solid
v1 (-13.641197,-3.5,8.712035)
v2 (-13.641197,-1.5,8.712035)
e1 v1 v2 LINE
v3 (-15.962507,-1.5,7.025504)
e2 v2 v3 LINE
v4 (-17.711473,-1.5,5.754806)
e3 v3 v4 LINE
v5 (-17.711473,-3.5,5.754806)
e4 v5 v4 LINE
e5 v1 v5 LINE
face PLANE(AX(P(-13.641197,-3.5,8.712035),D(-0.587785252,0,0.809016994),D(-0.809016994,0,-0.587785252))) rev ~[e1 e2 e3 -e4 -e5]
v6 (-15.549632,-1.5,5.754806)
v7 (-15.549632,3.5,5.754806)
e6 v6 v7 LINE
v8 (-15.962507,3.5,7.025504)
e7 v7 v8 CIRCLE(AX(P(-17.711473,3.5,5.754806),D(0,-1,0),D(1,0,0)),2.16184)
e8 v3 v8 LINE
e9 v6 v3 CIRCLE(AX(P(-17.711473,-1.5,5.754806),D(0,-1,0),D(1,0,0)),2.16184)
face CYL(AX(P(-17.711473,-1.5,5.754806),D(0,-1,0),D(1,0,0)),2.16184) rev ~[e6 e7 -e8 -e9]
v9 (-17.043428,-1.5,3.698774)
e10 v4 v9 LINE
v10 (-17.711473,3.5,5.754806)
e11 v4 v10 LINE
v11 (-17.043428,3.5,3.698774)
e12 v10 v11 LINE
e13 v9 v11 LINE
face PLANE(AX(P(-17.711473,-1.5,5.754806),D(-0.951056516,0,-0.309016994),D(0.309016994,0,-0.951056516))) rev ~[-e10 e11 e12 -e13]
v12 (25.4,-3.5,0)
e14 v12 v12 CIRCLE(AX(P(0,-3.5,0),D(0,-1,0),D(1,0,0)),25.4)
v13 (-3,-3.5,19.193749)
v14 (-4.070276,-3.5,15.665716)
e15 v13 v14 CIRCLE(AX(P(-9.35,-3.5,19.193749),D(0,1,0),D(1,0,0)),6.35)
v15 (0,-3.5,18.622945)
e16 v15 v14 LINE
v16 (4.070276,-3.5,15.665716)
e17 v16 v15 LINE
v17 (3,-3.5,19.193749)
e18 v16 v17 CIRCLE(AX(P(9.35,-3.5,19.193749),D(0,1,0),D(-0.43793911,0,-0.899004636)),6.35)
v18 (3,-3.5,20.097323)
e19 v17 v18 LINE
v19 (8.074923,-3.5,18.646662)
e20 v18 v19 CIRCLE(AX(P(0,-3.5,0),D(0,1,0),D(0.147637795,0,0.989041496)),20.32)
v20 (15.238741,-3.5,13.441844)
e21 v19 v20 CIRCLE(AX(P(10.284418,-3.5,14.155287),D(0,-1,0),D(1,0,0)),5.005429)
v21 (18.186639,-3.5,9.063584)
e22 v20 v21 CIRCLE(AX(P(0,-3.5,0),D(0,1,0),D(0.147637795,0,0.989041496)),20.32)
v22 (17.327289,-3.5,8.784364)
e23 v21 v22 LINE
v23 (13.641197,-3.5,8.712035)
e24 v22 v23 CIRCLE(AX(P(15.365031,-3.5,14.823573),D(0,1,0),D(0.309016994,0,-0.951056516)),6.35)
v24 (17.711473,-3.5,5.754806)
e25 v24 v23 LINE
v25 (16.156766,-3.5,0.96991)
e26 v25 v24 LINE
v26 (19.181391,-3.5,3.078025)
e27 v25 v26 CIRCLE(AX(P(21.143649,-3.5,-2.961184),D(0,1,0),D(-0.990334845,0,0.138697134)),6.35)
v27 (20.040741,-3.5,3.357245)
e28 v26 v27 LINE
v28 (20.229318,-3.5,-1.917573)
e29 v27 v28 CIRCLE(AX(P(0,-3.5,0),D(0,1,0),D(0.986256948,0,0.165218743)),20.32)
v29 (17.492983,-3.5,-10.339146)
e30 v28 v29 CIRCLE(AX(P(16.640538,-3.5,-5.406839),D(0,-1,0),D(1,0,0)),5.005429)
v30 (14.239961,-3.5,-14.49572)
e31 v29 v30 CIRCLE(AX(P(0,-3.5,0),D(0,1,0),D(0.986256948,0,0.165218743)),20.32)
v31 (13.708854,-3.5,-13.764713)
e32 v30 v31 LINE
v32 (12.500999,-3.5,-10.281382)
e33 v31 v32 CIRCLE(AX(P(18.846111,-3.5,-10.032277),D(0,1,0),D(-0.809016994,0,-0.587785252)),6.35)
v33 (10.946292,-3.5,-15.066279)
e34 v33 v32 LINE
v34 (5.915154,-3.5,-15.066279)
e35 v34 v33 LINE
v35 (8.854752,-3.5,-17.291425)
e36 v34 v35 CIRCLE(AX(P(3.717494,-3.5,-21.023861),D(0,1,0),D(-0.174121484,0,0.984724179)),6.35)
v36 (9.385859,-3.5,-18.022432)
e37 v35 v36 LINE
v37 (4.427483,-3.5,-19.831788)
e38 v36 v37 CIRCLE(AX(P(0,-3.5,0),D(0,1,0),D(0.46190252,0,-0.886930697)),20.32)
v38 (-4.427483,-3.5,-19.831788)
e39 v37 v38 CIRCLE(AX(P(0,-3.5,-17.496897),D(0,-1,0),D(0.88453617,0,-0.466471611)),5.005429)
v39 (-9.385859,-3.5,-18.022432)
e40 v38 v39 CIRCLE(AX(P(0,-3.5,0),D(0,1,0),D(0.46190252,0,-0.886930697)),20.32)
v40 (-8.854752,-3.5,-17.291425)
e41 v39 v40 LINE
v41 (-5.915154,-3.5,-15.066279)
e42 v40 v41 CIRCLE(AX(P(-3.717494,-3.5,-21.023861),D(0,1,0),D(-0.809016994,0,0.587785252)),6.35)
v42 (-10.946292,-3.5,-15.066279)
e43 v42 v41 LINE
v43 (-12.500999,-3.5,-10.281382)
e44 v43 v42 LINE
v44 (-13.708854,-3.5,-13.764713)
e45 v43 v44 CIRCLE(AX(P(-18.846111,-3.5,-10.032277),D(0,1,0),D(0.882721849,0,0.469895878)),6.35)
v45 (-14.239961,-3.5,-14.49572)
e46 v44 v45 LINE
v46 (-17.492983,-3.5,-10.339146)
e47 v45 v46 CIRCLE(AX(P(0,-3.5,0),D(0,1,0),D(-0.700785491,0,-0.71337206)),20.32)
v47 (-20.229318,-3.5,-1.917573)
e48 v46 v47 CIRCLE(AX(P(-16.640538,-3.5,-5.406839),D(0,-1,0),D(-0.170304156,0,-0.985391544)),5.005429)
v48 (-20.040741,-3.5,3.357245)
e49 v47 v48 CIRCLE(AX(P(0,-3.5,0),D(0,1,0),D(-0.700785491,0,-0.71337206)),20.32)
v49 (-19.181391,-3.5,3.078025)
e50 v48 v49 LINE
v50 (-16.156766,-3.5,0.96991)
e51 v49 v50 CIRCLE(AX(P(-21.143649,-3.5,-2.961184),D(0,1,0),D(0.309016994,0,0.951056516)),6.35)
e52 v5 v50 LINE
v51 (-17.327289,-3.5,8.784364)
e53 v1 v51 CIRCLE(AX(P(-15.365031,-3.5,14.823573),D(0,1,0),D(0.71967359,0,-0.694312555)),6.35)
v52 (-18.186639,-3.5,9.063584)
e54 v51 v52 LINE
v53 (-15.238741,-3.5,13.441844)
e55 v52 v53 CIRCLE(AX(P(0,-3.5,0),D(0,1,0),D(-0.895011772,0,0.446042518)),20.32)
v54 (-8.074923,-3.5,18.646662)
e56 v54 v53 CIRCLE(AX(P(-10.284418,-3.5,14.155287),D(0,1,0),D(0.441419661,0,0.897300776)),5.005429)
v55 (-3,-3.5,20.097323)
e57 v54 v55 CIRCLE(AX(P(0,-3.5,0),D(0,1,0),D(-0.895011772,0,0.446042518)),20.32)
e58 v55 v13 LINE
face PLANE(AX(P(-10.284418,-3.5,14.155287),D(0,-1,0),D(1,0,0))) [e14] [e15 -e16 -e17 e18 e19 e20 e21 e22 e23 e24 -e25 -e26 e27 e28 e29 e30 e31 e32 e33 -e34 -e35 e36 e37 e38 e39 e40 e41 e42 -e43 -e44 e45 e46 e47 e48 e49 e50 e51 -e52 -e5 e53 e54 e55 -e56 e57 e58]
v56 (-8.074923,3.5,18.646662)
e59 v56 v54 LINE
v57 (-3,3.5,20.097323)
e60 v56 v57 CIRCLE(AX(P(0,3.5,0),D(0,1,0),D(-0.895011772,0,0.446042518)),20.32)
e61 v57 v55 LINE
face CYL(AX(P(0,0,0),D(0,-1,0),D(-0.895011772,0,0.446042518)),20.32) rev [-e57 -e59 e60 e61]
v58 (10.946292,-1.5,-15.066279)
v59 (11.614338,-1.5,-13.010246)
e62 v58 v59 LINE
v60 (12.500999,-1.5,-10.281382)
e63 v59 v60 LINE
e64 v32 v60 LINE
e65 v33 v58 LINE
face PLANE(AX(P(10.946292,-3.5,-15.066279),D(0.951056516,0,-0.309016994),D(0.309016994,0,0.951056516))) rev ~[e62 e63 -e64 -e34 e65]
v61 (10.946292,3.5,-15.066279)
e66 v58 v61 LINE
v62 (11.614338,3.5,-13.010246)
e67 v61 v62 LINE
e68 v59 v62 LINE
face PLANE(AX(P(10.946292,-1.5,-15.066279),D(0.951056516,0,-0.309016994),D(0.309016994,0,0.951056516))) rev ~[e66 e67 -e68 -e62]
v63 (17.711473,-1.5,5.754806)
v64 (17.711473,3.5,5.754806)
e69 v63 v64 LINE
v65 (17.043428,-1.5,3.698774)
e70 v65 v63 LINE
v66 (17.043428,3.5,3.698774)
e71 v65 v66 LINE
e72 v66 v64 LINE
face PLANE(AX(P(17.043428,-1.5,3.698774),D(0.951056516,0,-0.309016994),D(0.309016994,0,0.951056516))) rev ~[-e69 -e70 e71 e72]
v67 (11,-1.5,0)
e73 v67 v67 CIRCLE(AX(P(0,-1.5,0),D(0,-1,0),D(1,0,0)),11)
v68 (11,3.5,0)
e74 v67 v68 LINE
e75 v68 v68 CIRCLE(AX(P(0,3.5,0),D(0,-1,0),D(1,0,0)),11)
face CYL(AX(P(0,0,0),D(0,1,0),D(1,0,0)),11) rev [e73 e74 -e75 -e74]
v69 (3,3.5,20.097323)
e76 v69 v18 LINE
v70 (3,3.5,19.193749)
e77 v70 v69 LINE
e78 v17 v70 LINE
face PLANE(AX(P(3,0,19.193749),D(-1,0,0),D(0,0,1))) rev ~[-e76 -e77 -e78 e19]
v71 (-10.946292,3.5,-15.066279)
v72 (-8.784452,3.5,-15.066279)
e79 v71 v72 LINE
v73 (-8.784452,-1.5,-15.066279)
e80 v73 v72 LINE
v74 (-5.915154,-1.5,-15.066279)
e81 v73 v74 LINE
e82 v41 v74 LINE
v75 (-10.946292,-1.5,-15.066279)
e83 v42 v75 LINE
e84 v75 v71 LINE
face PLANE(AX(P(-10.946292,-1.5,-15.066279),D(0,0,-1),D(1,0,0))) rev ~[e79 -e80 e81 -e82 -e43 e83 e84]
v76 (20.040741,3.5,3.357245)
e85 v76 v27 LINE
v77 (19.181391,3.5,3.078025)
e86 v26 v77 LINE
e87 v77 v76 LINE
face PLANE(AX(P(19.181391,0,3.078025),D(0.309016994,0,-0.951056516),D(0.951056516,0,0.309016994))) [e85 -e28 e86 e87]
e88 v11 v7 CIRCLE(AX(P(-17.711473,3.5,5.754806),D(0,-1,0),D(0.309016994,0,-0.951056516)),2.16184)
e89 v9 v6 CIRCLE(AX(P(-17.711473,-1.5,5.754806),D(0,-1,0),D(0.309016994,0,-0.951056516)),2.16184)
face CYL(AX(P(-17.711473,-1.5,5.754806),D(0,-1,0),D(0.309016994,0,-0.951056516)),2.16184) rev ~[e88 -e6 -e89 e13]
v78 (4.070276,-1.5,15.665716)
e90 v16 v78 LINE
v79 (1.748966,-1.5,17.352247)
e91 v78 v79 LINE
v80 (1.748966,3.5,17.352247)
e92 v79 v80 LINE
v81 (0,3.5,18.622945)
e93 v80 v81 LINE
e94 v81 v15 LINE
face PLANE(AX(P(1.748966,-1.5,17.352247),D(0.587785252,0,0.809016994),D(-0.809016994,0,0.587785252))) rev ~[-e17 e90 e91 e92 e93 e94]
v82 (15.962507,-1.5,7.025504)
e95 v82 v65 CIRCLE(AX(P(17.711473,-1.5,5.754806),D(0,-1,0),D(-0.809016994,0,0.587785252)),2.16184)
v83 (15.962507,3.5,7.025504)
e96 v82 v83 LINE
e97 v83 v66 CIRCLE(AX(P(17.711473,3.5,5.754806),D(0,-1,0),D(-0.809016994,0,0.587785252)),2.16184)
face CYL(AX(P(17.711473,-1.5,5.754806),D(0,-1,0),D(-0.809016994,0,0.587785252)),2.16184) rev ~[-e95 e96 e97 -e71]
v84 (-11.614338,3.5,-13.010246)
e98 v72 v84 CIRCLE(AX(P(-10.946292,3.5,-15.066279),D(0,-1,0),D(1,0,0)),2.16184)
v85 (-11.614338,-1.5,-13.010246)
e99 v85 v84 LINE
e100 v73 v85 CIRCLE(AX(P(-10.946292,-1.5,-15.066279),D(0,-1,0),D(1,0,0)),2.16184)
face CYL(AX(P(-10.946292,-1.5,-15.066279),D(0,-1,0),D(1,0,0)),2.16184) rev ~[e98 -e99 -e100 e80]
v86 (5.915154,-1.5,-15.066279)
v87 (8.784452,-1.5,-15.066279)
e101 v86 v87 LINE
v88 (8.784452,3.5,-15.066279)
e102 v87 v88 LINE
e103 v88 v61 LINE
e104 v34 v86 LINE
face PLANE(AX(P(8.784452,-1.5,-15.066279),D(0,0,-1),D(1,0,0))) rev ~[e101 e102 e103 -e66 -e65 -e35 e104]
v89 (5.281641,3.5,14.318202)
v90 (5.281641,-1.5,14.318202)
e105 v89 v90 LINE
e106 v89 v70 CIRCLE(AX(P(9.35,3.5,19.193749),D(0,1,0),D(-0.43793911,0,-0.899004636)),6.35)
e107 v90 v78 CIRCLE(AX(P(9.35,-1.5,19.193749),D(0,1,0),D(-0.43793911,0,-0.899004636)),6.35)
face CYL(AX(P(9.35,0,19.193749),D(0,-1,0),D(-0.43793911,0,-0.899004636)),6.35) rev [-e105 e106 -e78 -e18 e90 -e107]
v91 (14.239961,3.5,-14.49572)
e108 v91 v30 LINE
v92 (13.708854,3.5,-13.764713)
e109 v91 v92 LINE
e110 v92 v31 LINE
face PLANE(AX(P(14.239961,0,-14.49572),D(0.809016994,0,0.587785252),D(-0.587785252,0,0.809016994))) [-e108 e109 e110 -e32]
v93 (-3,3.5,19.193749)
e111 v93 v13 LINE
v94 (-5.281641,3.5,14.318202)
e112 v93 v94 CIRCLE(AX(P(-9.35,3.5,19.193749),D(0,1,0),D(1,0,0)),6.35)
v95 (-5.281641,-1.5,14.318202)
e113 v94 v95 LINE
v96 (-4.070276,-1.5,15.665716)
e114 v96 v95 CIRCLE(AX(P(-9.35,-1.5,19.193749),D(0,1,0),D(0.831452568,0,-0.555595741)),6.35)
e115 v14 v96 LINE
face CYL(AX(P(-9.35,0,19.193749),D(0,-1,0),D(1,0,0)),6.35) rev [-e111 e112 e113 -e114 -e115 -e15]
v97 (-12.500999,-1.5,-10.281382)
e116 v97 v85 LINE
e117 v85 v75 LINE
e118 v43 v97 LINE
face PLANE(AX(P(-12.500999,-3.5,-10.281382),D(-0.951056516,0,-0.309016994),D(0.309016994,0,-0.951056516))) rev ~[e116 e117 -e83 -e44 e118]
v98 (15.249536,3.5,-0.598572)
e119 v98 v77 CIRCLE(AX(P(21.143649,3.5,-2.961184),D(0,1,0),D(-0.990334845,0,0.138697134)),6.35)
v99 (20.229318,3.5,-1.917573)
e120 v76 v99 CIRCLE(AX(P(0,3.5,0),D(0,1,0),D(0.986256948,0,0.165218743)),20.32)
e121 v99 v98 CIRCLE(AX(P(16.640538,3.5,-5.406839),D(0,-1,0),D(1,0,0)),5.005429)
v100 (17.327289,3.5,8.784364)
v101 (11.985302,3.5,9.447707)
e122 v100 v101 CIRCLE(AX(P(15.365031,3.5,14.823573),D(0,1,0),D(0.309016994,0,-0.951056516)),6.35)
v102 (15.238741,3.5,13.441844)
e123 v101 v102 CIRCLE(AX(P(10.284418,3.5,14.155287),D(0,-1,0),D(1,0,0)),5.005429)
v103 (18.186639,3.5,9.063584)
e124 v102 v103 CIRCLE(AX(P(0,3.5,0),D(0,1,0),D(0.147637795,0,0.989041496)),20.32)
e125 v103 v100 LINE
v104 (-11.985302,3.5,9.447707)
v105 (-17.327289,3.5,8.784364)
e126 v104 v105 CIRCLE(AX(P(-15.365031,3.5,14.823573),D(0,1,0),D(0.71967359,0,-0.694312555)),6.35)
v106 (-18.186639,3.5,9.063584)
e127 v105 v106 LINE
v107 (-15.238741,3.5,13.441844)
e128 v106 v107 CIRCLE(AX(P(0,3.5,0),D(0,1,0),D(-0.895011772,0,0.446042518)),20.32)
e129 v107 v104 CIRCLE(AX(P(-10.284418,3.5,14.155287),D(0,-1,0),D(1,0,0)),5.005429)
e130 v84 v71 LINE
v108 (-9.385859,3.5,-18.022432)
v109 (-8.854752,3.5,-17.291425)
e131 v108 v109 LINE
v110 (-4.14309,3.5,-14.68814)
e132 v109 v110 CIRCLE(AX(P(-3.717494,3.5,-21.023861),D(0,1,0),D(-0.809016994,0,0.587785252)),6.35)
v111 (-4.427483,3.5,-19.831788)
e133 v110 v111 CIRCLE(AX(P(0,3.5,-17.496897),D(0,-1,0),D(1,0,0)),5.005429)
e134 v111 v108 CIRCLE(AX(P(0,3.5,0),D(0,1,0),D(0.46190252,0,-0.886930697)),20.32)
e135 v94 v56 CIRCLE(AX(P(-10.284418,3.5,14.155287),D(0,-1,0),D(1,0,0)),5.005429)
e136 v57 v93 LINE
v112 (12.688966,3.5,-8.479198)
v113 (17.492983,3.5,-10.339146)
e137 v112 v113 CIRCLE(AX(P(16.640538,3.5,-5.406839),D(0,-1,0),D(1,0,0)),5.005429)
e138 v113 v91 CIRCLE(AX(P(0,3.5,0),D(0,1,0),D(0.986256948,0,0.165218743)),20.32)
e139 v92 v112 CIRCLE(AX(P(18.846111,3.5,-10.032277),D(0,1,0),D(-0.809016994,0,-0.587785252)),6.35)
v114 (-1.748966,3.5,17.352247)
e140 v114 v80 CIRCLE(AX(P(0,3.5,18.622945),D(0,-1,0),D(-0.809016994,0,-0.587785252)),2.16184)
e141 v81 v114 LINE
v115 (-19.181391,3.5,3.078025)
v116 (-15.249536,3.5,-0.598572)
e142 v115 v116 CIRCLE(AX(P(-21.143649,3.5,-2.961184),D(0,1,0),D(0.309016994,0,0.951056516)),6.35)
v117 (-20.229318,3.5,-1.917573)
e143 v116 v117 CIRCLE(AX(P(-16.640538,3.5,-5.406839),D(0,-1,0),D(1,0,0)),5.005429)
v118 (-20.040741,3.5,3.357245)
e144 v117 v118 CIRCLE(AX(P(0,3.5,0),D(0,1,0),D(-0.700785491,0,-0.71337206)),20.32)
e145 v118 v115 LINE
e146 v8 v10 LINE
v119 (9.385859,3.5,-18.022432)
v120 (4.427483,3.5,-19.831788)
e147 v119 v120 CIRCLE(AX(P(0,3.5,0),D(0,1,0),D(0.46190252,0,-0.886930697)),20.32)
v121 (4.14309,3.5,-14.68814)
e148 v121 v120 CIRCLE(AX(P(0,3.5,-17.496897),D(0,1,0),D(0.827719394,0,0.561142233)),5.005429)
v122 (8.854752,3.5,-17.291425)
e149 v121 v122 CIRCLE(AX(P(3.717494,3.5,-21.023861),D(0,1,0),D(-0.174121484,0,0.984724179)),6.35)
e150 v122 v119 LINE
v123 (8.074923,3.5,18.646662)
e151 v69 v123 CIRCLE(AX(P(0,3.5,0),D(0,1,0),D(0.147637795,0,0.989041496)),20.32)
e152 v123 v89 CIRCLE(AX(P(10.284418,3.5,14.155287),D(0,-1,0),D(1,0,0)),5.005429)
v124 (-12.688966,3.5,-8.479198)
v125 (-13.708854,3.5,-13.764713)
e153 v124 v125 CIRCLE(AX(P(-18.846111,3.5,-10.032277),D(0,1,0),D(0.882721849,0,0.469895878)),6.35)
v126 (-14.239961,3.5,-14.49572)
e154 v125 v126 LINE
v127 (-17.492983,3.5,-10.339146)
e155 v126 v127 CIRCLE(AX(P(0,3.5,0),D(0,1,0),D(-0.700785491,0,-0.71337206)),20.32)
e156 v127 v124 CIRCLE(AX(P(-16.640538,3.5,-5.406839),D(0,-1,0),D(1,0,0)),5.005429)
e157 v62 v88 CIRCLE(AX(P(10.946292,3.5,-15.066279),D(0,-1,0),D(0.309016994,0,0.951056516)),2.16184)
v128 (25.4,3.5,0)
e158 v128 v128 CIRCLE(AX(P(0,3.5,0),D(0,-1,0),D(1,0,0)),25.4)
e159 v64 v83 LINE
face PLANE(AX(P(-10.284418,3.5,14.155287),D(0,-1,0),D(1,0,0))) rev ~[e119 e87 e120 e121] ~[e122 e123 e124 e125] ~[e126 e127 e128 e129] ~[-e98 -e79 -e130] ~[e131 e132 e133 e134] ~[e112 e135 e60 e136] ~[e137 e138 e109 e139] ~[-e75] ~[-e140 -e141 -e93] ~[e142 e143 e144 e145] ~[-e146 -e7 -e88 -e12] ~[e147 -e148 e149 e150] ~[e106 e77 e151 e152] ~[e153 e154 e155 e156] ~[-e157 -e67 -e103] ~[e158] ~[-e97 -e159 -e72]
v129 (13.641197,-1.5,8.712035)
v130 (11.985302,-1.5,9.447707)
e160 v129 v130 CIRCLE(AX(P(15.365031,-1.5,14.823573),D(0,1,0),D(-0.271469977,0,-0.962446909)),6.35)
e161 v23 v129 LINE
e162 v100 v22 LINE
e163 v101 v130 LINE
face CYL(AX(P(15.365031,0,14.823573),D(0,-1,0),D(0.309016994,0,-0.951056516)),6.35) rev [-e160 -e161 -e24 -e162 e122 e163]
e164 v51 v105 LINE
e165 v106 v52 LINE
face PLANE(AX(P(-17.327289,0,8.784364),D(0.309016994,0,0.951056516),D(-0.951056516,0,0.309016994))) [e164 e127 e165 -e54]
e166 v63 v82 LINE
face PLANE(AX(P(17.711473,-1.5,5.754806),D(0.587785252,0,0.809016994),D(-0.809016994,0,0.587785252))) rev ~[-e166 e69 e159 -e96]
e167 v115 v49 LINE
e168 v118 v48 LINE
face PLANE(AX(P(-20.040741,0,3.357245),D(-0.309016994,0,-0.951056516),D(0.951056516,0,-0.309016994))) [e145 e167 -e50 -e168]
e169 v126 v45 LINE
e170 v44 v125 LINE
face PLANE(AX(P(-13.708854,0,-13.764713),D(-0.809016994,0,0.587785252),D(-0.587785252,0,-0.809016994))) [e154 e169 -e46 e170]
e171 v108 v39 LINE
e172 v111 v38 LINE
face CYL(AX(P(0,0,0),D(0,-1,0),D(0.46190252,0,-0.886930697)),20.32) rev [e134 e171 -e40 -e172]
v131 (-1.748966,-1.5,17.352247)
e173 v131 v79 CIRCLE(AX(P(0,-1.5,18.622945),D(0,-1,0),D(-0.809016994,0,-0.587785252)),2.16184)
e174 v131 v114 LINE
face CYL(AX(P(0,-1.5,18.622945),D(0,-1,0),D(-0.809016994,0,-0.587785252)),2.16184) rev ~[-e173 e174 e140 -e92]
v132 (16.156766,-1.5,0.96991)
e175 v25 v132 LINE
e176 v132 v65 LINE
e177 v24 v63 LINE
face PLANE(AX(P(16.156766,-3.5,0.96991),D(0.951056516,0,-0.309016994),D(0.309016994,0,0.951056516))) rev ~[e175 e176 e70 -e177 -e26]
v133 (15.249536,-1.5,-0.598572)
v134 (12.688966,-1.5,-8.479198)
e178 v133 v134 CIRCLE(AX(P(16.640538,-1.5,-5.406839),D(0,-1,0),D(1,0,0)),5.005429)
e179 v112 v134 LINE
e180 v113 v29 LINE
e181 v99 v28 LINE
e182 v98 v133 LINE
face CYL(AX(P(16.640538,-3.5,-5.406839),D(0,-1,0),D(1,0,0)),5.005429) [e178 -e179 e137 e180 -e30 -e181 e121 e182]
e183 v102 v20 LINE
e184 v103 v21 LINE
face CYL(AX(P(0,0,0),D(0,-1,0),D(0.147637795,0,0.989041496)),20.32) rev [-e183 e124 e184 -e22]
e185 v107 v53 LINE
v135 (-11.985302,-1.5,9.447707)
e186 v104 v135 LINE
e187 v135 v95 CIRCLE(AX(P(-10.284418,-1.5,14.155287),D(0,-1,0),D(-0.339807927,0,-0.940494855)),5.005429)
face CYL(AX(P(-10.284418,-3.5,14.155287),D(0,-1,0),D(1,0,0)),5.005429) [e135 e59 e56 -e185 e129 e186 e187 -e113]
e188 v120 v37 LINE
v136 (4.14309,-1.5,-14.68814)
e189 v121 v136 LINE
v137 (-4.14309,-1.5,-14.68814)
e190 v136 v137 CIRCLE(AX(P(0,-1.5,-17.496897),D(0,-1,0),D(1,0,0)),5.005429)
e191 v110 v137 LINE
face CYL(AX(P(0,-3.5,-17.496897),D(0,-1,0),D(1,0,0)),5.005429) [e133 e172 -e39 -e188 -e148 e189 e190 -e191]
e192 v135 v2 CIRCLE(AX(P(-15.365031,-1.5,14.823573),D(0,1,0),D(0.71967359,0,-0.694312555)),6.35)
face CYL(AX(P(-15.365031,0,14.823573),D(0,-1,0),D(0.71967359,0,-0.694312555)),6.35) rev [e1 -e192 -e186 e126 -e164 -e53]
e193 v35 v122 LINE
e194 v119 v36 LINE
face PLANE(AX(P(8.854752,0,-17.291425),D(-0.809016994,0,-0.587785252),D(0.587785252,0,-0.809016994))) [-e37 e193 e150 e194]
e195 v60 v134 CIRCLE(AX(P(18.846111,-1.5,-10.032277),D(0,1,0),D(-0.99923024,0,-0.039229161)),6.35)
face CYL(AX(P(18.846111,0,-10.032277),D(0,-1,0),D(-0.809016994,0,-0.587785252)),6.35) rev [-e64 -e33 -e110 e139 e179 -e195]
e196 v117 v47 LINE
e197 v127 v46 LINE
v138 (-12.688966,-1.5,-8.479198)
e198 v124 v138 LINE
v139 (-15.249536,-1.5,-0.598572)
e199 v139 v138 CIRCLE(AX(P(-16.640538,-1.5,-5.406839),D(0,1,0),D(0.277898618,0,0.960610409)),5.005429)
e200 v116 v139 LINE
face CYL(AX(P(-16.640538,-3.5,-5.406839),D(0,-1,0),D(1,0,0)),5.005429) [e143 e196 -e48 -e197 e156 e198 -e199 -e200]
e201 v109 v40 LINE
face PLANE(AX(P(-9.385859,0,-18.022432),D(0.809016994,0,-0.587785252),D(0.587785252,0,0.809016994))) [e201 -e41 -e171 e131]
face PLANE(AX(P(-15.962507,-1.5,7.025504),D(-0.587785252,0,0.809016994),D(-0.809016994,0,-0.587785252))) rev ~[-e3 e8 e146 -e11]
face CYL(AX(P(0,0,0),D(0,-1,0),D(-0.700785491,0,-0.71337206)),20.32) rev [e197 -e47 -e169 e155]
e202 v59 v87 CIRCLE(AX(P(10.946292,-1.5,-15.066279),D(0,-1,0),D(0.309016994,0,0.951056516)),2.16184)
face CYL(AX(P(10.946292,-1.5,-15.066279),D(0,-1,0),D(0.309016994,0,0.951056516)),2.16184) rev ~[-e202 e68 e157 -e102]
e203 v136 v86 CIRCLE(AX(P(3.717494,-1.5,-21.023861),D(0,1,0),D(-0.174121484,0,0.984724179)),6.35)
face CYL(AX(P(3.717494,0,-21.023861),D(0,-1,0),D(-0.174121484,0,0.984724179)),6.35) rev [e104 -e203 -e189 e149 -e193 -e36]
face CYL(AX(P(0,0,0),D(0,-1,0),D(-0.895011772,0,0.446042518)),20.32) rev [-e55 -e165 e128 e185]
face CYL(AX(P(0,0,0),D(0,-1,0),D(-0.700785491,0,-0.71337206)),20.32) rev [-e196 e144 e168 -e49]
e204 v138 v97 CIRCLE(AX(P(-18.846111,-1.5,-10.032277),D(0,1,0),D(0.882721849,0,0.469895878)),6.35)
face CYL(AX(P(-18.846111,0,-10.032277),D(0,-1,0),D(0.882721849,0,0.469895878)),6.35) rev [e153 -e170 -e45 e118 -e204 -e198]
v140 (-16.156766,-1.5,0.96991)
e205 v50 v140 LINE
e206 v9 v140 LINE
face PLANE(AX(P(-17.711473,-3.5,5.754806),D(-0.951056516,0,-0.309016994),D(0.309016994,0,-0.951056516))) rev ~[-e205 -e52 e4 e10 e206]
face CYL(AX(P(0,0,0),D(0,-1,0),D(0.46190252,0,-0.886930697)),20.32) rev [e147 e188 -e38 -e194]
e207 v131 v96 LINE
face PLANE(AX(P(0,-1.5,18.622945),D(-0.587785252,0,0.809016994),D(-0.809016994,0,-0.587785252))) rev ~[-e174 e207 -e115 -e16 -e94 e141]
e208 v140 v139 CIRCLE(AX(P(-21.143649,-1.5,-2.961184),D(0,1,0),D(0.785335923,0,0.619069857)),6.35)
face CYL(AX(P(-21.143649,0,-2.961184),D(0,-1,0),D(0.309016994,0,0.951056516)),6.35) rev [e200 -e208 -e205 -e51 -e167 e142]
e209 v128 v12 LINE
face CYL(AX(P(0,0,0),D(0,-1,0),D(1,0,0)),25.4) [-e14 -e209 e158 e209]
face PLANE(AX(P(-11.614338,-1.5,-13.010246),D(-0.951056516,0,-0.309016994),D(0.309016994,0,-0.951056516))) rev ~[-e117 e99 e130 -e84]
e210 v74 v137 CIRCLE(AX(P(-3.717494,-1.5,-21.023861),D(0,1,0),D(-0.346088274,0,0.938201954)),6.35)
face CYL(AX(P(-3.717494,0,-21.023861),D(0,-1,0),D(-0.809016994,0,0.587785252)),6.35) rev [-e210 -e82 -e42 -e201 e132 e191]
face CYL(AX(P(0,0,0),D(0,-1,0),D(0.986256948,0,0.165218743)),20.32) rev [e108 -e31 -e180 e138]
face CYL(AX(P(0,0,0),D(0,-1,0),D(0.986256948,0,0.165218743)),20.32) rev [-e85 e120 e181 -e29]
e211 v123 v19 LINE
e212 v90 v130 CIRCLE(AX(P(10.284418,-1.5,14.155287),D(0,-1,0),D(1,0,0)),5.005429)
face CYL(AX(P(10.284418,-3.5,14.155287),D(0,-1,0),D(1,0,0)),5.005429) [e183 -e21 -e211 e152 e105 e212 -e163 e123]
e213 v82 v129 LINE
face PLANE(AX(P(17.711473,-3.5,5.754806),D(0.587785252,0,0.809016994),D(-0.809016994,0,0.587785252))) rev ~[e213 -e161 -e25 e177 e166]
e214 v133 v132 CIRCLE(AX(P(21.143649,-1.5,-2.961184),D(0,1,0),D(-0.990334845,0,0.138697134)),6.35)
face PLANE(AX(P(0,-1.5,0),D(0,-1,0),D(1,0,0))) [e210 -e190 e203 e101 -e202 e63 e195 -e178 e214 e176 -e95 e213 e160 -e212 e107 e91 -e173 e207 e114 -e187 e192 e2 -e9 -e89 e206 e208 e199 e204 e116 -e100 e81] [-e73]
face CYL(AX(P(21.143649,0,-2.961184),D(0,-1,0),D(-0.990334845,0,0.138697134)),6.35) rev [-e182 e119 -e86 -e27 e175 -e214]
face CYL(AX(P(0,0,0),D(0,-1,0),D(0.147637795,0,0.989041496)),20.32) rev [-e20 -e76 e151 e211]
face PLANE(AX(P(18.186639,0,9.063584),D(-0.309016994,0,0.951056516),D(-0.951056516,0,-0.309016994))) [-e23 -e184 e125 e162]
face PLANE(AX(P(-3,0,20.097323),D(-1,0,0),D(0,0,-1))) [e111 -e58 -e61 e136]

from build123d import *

# Parameters (mm, degrees)
F0_R     = 25.4
F0_R_2   = 11
F1_DEPTH = 3.5
F2_R     = 11
F3_DEPTH = 2
F5_DEPTH = 25.4
F6_R     = 5.0054287193
F7_DEPTH = 7


with BuildPart() as f1:
    # F0 (on Front) → F1 (new body, symmetric)
    with BuildSketch(Plane.XZ):
        Circle(F0_R)
        with BuildLine():
            ThreePointArc((9.3858592072, -18.022431771), (0, -20.32), (-9.3858592072, -18.022431771))
            Line((-9.3858592072, -18.022431771), (-8.8547516049, -17.2914248694))
            ThreePointArc((-8.8547516049, -17.2914248694), (-6.0948306116, -15.1356722669), (-2.6118222651, -14.7708626849))
            ThreePointArc((-2.6118222651, -14.7708626849), (0, -15), (2.6118222651, -14.7708626849))
            ThreePointArc((2.6118222651, -14.7708626849), (6.0948306116, -15.1356722669), (8.8547516049, -17.2914248694))
            Line((8.8547516049, -17.2914248694), (9.3858592072, -18.022431771))
        make_face(mode=Mode.SUBTRACT)
        with BuildLine():
            ThreePointArc((-14.2399611735, -14.4957202573), (-19.3254684111, -6.2792253257), (-20.0407411772, 3.3572448629))
            Line((-20.0407411772, 3.3572448629), (-19.181391025, 3.0780250724))
            ThreePointArc((-19.181391025, 3.0780250724), (-16.2782859748, 1.1193484171), (-14.855022674, -2.0804570066))
            ThreePointArc((-14.855022674, -2.0804570066), (-14.2658477444, -4.6352549156), (-13.2408277416, -7.0484381758))
            ThreePointArc((-13.2408277416, -7.0484381758), (-12.5114735012, -10.4737083206), (-13.7088535712, -13.7647133557))
            Line((-13.7088535712, -13.7647133557), (-14.2399611735, -14.4957202573))
        make_face(mode=Mode.SUBTRACT)
        Circle(F0_R_2, mode=Mode.SUBTRACT)
        with BuildLine():
            ThreePointArc((20.0407411772, 3.3572448629), (19.3254684111, -6.2792253257), (14.2399611735, -14.4957202573))
            Line((14.2399611735, -14.4957202573), (13.7088535712, -13.7647133557))
            ThreePointArc((13.7088535712, -13.7647133557), (12.5114735012, -10.4737083206), (13.2408277416, -7.0484381758))
            ThreePointArc((13.2408277416, -7.0484381758), (14.2658477444, -4.6352549156), (14.855022674, -2.0804570066))
            ThreePointArc((14.855022674, -2.0804570066), (16.2782859748, 1.1193484171), (19.181391025, 3.0780250724))
            Line((19.181391025, 3.0780250724), (20.0407411772, 3.3572448629))
        make_face(mode=Mode.SUBTRACT)
        with BuildLine():
            ThreePointArc((-18.1866392109, 9.0635839606), (-11.9437963266, 16.4392253257), (-3, 20.0973232048))
            Line((-3, 20.0973232048), (-3, 19.1937489824))
            ThreePointArc((-3, 19.1937489824), (-3.9657033994, 15.8274676339), (-6.5690866511, 13.4850695427))
            ThreePointArc((-6.5690866511, 13.4850695427), (-8.8167787844, 12.1352549156), (-10.7951038486, 10.4146883246))
            ThreePointArc((-10.7951038486, 10.4146883246), (-13.8273464846, 8.6625645365), (-17.3272890587, 8.7843641702))
            Line((-17.3272890587, 8.7843641702), (-18.1866392109, 9.0635839606))
        make_face(mode=Mode.SUBTRACT)
        with BuildLine():
            Line((3, 19.1937489824), (3, 20.0973232048))
            ThreePointArc((3, 20.0973232048), (11.9437963266, 16.4392253257), (18.1866392109, 9.0635839606))
            Line((18.1866392109, 9.0635839606), (17.3272890587, 8.7843641702))
            ThreePointArc((17.3272890587, 8.7843641702), (13.8273464846, 8.6625645365), (10.7951038486, 10.4146883246))
            ThreePointArc((10.7951038486, 10.4146883246), (8.8167787844, 12.1352549156), (6.5690866511, 13.4850695427))
            ThreePointArc((6.5690866511, 13.4850695427), (3.9657033994, 15.8274676339), (3, 19.1937489824))
        make_face(mode=Mode.SUBTRACT)
    extrude(amount=F1_DEPTH, both=True)

    # F2 (on face) → F3 (cut)
    with BuildSketch(Plane.XZ.offset(3.5)):
        with BuildLine():
            Line((5.9151542337, -15.0662788144), (10.9462922974, -15.0662788144))
            Line((10.9462922974, -15.0662788144), (12.5009994602, -10.2813821745))
            ThreePointArc((12.5009994602, -10.2813821745), (12.6561218663, -8.6157571432), (13.2408277416, -7.0484381758))
            ThreePointArc((13.2408277416, -7.0484381758), (14.2658477444, -4.6352549156), (14.855022674, -2.0804570066))
            ThreePointArc((14.855022674, -2.0804570066), (15.3032326588, -0.468787836), (16.1567658253, 0.9699097832))
            Line((16.1567658253, 0.9699097832), (17.711472988, 5.7548064231))
            Line((17.711472988, 5.7548064231), (13.6411967935, 8.7120351792))
            ThreePointArc((13.6411967935, 8.7120351792), (12.1050287134, 9.3742717954), (10.7951038486, 10.4146883246))
            ThreePointArc((10.7951038486, 10.4146883246), (8.8167787844, 12.1352549156), (6.5690866511, 13.4850695427))
            ThreePointArc((6.5690866511, 13.4850695427), (5.1748026867, 14.4093757325), (4.0702761946, 15.6657160264))
            Line((4.0702761946, 15.6657160264), (0, 18.6229447825))
            Line((0, 18.6229447825), (-4.0702761946, 15.6657160264))
            ThreePointArc((-4.0702761946, 15.6657160264), (-5.1748026867, 14.4093757325), (-6.5690866511, 13.4850695427))
            ThreePointArc((-6.5690866511, 13.4850695427), (-8.8167787844, 12.1352549156), (-10.7951038486, 10.4146883246))
            ThreePointArc((-10.7951038486, 10.4146883246), (-12.1050287134, 9.3742717954), (-13.6411967935, 8.7120351792))
            Line((-13.6411967935, 8.7120351792), (-17.711472988, 5.7548064231))
            Line((-17.711472988, 5.7548064231), (-16.1567658253, 0.9699097832))
            ThreePointArc((-16.1567658253, 0.9699097832), (-15.3032326588, -0.468787836), (-14.855022674, -2.0804570066))
            ThreePointArc((-14.855022674, -2.0804570066), (-14.2658477444, -4.6352549156), (-13.2408277416, -7.0484381758))
            ThreePointArc((-13.2408277416, -7.0484381758), (-12.6561218663, -8.6157571432), (-12.5009994602, -10.2813821745))
            Line((-12.5009994602, -10.2813821745), (-10.9462922974, -15.0662788144))
            Line((-10.9462922974, -15.0662788144), (-5.9151542337, -15.0662788144))
            ThreePointArc((-5.9151542337, -15.0662788144), (-4.2831152343, -14.6991025487), (-2.6118222651, -14.7708626849))
            ThreePointArc((-2.6118222651, -14.7708626849), (0, -15), (2.6118222651, -14.7708626849))
            ThreePointArc((2.6118222651, -14.7708626849), (4.2831152343, -14.6991025487), (5.9151542337, -15.0662788144))
        make_face()
        Circle(F2_R, mode=Mode.SUBTRACT)
    extrude(amount=-F3_DEPTH, mode=Mode.SUBTRACT)

    # F4 (on face) → F5 (cut)
    with BuildSketch(Plane.XZ.offset(1.5)):
        with BuildLine():
            ThreePointArc((-15.5496324927, 5.7548064231), (-15.6554404977, 6.4228518753), (-15.9625072881, 7.0255043841))
            Line((-15.9625072881, 7.0255043841), (-17.711472988, 5.7548064231))
            Line((-17.711472988, 5.7548064231), (-17.0434275358, 3.6987739328))
            ThreePointArc((-17.0434275358, 3.6987739328), (-15.9625072881, 4.4841084621), (-15.5496324927, 5.7548064231))
        make_face()
        with BuildLine():
            ThreePointArc((-8.7844518021, -15.0662788144), (-9.6755943364, -13.3173131145), (-11.6143377496, -13.0102463241))
            Line((-11.6143377496, -13.0102463241), (-10.9462922974, -15.0662788144))
            Line((-10.9462922974, -15.0662788144), (-8.7844518021, -15.0662788144))
        make_face()
        with BuildLine():
            Line((10.9462922974, -15.0662788144), (11.6143377496, -13.0102463241))
            ThreePointArc((11.6143377496, -13.0102463241), (9.6755943364, -13.3173131145), (8.7844518021, -15.0662788144))
            Line((8.7844518021, -15.0662788144), (10.9462922974, -15.0662788144))
        make_face()
        with BuildLine():
            Line((17.711472988, 5.7548064231), (15.9625072881, 7.0255043841))
            ThreePointArc((15.9625072881, 7.0255043841), (15.6554404977, 5.0867609709), (17.0434275358, 3.6987739328))
            Line((17.0434275358, 3.6987739328), (17.711472988, 5.7548064231))
        make_face()
        with BuildLine():
            Line((0, 18.6229447825), (-1.7489656999, 17.3522468215))
            ThreePointArc((-1.7489656999, 17.3522468215), (0, 16.4611042872), (1.7489656999, 17.3522468215))
            Line((1.7489656999, 17.3522468215), (0, 18.6229447825))
        make_face()
    extrude(amount=-F5_DEPTH, mode=Mode.SUBTRACT)

    # F6 (on face) → F7 (join)
    with BuildSketch(Plane.XZ.offset(3.5)):
        with Locations((-10.2844180941, 14.1552871273)):
            Circle(F6_R)
        with Locations((-16.6405380308, -5.4068385621)):
            Circle(F6_R)
        with Locations((0, -17.4968971303)):
            Circle(F6_R)
        with Locations((16.6405380308, -5.4068385621)):
            Circle(F6_R)
        with Locations((10.2844180941, 14.1552871273)):
            Circle(F6_R)
    extrude(amount=-F7_DEPTH)


solid = f1.part
